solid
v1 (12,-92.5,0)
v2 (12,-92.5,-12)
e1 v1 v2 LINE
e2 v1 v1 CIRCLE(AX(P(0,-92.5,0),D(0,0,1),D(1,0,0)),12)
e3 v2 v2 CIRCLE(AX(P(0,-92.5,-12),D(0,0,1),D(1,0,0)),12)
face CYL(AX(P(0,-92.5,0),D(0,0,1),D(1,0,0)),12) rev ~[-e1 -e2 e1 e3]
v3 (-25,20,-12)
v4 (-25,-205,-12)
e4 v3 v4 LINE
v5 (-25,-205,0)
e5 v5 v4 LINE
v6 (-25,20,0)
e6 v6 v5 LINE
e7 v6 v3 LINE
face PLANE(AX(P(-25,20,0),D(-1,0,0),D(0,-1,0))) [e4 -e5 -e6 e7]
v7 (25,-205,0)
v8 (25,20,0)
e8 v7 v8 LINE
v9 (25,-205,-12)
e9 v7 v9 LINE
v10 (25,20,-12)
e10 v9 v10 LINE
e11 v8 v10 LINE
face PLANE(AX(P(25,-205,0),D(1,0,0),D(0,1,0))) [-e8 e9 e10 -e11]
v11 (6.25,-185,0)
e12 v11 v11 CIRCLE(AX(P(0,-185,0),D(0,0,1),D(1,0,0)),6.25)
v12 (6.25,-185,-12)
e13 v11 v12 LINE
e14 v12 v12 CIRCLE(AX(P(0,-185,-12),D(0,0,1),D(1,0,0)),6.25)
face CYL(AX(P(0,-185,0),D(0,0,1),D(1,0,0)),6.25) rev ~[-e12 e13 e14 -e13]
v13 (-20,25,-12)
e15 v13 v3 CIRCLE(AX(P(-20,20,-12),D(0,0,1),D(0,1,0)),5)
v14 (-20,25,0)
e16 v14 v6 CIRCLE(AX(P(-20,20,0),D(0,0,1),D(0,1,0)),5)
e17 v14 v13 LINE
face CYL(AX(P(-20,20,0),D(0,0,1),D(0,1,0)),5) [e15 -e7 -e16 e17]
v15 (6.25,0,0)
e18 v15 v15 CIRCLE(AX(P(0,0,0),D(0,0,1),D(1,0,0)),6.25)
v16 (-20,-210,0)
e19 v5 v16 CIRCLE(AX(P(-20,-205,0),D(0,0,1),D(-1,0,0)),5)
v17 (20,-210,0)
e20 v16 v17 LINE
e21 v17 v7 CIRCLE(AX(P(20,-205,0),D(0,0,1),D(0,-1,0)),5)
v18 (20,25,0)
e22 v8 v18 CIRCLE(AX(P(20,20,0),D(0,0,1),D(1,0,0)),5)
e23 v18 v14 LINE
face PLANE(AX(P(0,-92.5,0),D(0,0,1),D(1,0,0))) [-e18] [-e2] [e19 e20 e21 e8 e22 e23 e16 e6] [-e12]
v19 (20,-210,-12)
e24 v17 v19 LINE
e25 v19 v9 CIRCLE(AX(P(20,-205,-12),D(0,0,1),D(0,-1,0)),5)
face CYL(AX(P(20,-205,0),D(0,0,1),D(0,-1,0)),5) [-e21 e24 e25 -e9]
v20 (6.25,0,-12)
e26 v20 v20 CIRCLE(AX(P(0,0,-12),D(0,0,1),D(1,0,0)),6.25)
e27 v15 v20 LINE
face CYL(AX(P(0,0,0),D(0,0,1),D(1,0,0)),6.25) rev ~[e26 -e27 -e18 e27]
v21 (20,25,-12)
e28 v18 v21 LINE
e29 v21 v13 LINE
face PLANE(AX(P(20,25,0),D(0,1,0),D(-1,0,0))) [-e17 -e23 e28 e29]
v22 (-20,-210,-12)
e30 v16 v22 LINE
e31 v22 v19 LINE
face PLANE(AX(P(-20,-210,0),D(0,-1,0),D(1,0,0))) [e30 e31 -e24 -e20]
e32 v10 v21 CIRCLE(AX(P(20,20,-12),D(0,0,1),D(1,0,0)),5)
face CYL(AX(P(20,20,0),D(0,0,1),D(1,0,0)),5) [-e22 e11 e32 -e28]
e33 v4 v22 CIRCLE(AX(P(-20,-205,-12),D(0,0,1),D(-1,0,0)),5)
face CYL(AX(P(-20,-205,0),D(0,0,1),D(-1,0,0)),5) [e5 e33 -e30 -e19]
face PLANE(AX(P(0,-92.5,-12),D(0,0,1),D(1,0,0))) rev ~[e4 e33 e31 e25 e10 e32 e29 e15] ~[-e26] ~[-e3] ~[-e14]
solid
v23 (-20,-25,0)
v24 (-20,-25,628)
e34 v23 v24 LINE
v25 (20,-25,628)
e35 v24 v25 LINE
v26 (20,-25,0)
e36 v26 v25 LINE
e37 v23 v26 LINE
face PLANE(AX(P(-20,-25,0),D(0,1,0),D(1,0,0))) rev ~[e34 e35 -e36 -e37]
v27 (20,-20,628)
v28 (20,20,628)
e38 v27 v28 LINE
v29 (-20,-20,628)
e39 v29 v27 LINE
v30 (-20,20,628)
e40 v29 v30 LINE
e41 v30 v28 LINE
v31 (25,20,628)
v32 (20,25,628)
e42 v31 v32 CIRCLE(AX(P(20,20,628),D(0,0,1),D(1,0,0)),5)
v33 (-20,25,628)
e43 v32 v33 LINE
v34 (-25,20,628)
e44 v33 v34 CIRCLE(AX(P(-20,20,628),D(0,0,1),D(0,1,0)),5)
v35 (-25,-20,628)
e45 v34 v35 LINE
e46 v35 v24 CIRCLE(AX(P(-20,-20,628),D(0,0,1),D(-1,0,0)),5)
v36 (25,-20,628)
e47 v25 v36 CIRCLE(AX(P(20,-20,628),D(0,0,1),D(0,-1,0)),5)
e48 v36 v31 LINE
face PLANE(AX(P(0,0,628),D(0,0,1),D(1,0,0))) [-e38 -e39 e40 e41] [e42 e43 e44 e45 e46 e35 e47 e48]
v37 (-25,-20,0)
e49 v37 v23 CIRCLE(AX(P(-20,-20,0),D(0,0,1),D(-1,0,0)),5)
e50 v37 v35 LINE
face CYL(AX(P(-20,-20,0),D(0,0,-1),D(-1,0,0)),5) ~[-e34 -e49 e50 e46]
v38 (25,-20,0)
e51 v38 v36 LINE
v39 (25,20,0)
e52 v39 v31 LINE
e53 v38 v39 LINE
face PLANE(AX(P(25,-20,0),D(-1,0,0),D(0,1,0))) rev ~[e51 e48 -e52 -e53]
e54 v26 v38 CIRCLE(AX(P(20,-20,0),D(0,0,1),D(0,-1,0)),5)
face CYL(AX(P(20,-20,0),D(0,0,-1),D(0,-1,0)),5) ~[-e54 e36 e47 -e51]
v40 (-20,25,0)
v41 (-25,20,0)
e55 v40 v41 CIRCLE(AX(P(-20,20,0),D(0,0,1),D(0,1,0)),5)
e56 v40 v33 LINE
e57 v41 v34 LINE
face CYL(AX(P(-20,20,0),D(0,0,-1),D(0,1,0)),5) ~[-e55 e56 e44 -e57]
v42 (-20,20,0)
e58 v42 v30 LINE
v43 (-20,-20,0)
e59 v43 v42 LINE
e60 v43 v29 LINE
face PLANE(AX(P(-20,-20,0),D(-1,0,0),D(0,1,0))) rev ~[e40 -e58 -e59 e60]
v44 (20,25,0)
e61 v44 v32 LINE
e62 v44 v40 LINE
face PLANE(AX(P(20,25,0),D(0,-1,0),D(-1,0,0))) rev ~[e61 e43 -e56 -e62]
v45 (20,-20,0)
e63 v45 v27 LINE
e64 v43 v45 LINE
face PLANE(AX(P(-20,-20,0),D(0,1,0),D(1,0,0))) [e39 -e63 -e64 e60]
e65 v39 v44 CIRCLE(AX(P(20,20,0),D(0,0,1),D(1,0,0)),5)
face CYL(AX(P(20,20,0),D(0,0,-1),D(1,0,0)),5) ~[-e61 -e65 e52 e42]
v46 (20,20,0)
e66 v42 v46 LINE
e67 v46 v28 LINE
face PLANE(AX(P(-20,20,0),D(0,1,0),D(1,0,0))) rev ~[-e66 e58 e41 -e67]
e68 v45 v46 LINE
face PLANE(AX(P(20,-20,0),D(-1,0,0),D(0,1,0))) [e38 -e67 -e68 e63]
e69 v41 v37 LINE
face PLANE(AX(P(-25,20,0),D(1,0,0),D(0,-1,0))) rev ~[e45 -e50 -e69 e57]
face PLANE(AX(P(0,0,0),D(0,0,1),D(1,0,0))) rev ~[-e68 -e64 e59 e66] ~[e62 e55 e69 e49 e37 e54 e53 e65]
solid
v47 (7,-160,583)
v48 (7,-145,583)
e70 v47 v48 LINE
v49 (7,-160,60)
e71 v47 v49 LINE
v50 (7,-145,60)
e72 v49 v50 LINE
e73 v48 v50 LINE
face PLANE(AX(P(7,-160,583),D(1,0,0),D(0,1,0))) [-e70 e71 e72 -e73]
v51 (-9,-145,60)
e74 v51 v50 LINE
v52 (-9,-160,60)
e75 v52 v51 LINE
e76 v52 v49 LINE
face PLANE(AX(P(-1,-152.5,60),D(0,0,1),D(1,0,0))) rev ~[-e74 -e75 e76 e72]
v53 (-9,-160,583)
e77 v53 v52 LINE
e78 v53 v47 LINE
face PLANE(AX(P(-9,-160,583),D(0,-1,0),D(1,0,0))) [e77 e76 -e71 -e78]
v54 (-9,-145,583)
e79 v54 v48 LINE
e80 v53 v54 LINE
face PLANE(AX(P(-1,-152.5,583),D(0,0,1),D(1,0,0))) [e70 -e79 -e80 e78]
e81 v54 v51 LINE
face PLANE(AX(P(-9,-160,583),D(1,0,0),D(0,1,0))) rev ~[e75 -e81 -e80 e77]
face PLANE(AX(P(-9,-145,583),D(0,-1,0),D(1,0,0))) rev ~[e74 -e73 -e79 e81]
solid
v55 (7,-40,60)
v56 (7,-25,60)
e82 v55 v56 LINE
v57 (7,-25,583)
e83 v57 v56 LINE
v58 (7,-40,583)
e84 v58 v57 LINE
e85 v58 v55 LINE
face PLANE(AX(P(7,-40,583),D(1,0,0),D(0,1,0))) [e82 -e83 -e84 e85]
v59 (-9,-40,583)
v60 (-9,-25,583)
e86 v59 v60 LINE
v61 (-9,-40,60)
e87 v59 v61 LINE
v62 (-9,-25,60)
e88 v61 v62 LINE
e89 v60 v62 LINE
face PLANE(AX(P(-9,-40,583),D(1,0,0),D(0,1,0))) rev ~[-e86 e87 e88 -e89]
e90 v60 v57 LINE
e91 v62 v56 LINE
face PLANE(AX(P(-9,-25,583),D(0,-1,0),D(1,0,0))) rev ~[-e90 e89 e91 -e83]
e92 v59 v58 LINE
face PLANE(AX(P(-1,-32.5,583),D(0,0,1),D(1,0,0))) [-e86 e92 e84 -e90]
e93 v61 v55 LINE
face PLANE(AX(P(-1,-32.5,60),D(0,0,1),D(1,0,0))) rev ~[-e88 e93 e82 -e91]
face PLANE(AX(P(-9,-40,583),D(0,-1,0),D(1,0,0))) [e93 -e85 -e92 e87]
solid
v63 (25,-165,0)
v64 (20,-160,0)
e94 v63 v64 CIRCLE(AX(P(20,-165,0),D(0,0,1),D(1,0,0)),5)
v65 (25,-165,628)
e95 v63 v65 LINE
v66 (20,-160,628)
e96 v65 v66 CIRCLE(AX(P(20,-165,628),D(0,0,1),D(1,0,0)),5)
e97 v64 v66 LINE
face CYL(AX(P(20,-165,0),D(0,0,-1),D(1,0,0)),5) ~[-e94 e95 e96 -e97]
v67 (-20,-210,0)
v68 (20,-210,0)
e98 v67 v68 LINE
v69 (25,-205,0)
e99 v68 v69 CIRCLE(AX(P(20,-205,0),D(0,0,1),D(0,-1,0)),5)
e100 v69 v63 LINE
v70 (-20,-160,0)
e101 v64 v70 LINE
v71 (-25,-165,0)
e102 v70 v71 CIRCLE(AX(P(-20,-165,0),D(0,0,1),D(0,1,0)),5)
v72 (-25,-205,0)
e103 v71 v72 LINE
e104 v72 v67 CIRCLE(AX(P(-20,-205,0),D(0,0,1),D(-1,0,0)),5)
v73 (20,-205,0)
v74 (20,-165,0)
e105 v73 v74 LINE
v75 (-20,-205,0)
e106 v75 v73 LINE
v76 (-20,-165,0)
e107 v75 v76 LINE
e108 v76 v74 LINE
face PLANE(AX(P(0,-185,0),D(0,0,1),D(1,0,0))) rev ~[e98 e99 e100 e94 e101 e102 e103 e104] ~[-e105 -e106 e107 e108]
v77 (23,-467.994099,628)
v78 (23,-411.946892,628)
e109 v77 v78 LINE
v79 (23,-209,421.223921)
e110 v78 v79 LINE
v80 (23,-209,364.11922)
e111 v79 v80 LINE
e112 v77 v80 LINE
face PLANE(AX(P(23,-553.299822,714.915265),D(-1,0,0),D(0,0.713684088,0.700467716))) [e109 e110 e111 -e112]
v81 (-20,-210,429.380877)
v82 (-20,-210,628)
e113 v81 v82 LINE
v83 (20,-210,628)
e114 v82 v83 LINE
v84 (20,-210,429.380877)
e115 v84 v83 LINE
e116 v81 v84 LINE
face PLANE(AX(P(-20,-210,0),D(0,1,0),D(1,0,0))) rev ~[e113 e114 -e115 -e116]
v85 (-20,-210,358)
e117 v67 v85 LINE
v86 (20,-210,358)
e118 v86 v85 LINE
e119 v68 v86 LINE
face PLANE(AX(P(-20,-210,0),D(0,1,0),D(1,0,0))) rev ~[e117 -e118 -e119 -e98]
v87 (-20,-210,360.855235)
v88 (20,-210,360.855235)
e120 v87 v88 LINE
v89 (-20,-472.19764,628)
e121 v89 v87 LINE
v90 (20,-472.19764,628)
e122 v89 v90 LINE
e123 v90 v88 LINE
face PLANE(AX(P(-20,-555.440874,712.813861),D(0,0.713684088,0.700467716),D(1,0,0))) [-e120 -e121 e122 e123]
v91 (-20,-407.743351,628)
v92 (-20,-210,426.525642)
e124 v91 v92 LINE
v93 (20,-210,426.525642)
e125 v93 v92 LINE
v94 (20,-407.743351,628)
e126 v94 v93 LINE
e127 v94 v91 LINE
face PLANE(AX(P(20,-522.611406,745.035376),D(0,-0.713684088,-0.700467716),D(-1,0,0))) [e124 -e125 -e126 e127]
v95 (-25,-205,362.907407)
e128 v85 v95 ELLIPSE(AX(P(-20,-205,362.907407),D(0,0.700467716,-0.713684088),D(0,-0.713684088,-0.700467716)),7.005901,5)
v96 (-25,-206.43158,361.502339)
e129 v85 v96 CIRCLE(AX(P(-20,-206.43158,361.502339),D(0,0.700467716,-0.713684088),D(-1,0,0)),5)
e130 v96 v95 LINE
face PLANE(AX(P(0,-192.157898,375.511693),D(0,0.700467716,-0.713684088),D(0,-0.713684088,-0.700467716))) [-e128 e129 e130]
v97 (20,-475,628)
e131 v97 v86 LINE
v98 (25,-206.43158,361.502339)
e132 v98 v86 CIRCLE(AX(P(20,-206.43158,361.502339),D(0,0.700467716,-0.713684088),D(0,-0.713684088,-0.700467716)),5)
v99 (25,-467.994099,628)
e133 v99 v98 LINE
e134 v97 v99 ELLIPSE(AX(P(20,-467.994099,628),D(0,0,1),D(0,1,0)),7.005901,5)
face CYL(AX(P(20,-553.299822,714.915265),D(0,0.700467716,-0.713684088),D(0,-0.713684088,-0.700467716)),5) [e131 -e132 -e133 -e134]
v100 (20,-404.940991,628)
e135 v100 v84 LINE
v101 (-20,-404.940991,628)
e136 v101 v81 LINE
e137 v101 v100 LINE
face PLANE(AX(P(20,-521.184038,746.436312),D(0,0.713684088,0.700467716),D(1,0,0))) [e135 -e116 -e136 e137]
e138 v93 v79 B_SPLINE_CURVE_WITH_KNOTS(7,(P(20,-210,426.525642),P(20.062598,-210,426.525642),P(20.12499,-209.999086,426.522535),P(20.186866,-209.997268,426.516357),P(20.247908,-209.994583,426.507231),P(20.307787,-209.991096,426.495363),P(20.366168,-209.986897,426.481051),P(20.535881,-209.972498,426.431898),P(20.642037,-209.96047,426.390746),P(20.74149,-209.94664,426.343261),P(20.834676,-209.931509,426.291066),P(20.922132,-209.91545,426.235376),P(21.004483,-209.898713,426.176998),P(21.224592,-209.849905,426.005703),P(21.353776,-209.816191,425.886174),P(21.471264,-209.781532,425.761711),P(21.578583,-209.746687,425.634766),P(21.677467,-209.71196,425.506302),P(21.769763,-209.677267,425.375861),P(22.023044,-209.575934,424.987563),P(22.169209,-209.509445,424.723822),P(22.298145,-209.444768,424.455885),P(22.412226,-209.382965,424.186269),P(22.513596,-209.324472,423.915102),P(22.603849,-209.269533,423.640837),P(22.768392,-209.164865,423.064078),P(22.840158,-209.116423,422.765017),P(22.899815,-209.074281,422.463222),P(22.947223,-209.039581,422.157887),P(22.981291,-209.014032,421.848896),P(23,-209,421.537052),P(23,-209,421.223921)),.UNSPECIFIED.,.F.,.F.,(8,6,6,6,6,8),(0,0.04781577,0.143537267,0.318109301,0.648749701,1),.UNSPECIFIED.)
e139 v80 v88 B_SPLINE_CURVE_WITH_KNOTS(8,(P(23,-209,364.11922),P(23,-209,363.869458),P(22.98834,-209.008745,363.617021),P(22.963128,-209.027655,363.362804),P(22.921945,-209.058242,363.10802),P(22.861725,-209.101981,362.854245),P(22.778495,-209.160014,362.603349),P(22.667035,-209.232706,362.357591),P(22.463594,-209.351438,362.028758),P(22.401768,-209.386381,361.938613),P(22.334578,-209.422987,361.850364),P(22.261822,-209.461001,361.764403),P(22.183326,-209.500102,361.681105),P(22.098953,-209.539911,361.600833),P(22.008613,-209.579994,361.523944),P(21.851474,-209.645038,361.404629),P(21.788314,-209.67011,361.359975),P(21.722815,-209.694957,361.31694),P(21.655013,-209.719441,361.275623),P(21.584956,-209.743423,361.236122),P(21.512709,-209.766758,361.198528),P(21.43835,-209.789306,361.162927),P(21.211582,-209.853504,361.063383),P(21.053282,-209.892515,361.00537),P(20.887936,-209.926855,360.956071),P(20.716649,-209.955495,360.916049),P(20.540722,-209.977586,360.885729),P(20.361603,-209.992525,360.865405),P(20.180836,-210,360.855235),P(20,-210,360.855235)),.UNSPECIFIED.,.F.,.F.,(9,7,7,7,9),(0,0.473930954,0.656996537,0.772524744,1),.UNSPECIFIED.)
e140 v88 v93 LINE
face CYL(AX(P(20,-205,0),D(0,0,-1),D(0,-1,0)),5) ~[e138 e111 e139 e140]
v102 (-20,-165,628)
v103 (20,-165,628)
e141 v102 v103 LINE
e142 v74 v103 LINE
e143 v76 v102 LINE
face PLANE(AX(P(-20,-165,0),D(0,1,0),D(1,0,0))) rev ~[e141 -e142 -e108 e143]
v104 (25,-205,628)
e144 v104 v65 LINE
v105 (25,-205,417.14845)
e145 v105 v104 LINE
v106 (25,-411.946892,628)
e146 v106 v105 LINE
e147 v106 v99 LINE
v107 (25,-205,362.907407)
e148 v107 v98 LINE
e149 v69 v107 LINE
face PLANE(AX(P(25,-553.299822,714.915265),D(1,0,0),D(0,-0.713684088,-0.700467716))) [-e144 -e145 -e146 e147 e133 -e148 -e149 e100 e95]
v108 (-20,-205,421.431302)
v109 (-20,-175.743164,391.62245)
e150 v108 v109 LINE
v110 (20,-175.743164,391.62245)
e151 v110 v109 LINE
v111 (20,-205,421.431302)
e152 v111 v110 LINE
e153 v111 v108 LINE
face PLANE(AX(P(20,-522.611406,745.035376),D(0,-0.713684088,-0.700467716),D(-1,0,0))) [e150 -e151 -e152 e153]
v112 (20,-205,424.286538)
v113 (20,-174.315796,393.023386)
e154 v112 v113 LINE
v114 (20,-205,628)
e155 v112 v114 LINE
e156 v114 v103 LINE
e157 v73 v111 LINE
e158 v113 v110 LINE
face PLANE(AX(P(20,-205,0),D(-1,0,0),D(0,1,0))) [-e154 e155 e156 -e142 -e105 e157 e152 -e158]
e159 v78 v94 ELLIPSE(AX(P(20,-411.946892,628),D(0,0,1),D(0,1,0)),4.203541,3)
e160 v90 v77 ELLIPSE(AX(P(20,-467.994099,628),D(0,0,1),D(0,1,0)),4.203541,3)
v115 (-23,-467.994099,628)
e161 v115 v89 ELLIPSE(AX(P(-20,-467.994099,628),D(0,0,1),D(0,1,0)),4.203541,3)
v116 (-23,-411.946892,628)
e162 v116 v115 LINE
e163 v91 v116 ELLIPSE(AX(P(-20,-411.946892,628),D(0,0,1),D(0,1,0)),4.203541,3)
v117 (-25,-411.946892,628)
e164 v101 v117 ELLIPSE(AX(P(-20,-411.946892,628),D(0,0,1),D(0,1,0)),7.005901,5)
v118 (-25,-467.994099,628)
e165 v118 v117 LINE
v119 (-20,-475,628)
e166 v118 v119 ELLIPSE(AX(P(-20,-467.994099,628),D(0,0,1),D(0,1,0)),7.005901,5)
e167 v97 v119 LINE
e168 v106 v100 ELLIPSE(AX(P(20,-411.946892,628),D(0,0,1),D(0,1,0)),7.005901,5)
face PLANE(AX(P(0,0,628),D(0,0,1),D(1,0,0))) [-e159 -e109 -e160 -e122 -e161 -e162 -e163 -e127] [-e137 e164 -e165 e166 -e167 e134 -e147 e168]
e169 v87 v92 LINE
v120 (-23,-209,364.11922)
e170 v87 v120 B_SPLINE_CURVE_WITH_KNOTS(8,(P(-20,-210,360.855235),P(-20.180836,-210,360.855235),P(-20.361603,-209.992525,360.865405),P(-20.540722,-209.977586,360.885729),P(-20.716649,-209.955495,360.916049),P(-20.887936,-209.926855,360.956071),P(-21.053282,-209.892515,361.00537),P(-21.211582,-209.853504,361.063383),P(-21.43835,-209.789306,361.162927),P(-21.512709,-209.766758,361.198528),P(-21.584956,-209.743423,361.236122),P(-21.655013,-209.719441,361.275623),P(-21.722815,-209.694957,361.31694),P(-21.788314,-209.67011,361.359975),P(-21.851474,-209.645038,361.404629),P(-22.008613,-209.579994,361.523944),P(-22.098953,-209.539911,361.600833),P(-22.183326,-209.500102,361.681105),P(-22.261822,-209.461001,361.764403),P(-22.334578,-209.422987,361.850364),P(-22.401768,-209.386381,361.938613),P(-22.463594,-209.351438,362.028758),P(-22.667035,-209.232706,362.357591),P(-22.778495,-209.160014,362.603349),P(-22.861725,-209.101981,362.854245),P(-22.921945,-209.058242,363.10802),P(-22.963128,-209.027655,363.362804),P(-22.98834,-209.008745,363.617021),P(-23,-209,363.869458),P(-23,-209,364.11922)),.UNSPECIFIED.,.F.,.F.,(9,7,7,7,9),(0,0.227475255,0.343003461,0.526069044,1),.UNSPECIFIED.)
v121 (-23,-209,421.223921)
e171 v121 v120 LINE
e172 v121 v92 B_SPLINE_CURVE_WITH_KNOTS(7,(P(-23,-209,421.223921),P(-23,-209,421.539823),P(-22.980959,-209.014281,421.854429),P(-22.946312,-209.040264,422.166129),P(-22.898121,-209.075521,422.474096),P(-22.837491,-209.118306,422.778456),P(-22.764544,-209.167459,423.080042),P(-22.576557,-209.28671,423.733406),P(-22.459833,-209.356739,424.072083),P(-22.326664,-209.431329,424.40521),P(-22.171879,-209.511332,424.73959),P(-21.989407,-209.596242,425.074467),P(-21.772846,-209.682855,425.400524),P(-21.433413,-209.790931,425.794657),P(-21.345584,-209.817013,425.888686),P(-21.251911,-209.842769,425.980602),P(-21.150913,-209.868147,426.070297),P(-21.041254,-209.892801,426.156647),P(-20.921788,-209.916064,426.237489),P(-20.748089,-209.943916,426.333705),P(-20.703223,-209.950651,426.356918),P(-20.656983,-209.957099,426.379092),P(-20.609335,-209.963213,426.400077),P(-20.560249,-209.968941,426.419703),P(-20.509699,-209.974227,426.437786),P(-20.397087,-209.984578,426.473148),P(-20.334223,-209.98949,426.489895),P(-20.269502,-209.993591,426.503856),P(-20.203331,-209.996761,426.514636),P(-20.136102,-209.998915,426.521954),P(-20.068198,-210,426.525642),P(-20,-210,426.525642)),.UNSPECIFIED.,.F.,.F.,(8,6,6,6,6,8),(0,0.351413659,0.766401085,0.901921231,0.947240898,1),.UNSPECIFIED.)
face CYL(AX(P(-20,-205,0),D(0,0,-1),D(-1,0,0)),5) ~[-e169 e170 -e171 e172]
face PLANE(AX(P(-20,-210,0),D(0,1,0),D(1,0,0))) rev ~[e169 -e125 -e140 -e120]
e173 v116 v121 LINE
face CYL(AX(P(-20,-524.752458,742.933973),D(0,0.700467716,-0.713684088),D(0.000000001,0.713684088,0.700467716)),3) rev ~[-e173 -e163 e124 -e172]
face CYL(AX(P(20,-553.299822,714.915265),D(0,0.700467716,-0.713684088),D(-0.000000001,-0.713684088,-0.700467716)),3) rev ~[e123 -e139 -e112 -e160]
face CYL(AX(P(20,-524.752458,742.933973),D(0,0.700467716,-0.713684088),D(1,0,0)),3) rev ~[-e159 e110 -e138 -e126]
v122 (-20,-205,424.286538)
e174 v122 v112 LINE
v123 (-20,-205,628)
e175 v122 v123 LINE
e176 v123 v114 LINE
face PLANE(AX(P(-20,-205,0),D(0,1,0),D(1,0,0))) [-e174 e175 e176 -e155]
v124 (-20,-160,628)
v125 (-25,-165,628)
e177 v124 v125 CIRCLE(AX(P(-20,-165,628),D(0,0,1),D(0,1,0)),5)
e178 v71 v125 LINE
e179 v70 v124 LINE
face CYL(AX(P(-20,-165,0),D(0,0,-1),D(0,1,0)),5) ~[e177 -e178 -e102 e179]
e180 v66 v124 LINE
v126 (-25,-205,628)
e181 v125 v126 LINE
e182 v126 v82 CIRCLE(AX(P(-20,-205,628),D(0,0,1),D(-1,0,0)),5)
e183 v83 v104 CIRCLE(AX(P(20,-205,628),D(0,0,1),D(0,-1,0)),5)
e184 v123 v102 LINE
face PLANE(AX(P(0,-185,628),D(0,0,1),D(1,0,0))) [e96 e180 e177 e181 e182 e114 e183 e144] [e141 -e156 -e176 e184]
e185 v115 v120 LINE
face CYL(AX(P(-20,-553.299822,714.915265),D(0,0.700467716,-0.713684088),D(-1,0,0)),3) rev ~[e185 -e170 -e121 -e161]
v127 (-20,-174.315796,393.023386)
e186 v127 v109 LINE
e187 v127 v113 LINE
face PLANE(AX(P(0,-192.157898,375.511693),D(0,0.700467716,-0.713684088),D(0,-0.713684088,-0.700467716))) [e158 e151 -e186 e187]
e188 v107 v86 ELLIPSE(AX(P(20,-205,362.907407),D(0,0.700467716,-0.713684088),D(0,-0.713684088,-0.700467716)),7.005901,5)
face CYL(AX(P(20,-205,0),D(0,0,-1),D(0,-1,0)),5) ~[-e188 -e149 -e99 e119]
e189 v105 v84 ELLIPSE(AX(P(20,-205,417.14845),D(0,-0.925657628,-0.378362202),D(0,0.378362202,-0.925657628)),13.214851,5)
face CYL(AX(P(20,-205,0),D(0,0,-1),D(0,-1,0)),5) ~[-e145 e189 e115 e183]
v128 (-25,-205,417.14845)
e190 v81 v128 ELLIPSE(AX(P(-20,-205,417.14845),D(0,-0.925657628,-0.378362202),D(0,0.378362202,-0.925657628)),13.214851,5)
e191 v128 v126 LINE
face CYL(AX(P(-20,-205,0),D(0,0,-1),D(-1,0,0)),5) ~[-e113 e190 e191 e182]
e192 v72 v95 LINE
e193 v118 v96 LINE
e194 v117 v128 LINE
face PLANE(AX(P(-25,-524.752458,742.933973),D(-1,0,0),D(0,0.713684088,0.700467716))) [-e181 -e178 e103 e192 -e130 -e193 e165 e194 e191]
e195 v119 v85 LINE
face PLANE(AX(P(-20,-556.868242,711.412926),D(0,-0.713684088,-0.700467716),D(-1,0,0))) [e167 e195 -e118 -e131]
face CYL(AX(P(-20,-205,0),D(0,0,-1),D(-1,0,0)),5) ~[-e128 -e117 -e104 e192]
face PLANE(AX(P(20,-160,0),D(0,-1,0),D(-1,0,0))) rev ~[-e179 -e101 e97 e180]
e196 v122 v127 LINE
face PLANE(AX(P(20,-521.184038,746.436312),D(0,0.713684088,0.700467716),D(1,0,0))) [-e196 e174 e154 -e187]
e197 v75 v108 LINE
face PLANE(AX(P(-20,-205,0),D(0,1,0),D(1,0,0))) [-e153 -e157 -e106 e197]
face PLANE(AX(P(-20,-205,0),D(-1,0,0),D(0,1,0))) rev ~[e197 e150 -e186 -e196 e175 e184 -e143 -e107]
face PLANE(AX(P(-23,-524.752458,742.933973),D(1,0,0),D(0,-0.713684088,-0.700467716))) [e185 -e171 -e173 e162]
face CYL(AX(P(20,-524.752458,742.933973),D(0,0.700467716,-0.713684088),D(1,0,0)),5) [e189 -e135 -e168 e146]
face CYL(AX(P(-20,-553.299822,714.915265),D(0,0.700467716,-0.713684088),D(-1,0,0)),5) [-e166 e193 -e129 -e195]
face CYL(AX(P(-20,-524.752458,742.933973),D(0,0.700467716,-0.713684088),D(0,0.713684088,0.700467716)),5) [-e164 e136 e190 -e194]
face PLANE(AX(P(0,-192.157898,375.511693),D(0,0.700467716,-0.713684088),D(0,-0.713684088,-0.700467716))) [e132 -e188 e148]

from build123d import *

# Parameters (mm, degrees)
SKETCH1_W             = 40
SKETCH1_H             = 40
BOSS_EXTRUDE1_DEPTH   = 628
BOSS_EXTRUDE1_2_DEPTH = 628
SKETCH2_R             = 6.25
SKETCH2_R_2           = 12
BOSS_EXTRUDE2_DEPTH   = 12
BOSS_EXTRUDE4_START   = -45
SKETCH3_W             = 16
SKETCH3_H             = 15
BOSS_EXTRUDE4_DEPTH   = 523
BOSS_EXTRUDE4_2_DEPTH = 523
SKETCH6_W             = 683.204916826
SKETCH6_H             = 1233.314066904
CUT_EXTRUDE1_DEPTH    = 849.720942988


with BuildPart() as part:
    # Sketch1 → Boss-Extrude1 (new body)
    with BuildSketch(Plane.XY):
        with BuildLine():
            Line((-20, -25), (20, -25))
            ThreePointArc((20, -25), (23.535533906, -23.535533906), (25, -20))
            Line((25, -20), (25, 20))
            ThreePointArc((25, 20), (23.535533906, 23.535533906), (20, 25))
            Line((20, 25), (-20, 25))
            ThreePointArc((-20, 25), (-23.535533906, 23.535533906), (-25, 20))
            Line((-25, 20), (-25, -20))
            ThreePointArc((-25, -20), (-23.535533906, -23.535533906), (-20, -25))
        make_face()
        Rectangle(SKETCH1_W, SKETCH1_H, mode=Mode.SUBTRACT)
    extrude(amount=BOSS_EXTRUDE1_DEPTH)


with BuildPart() as body_2:
    # Sketch1 → Boss-Extrude1 2 (new body)
    with BuildSketch(Plane.XY):
        with BuildLine():
            Line((-20, -210), (20, -210))
            ThreePointArc((20, -210), (23.535533906, -208.535533906), (25, -205))
            Line((25, -205), (25, -165))
            ThreePointArc((25, -165), (23.535533906, -161.464466094), (20, -160))
            Line((20, -160), (-20, -160))
            ThreePointArc((-20, -160), (-23.535533906, -161.464466094), (-25, -165))
            Line((-25, -165), (-25, -205))
            ThreePointArc((-25, -205), (-23.535533906, -208.535533906), (-20, -210))
        make_face()
        with Locations((0, -185)):
            Rectangle(SKETCH1_W, SKETCH1_H, mode=Mode.SUBTRACT)
    extrude(amount=BOSS_EXTRUDE1_2_DEPTH)

    # Sweep1: sweep along a path in Sketch4
    with BuildLine(Plane(origin=(0, 0, 0), x_dir=(0, 0, -1), z_dir=(1, 0, 0))) as sweep1_path:
        Line((-711.412925919, -556.868242106), (-358, -210))
    # Sketch5 → Sweep1 (sweep)
    with BuildSketch(Plane(origin=(0, -210, 358), x_dir=(-1, 0, 0), z_dir=(0, 0.7004677164823951, -0.7136840884914969))):
        with BuildLine():
            Line((20, 0), (-20, 0))
            ThreePointArc((-20, 0), (-23.535533906, 1.464466094), (-25, 5))
            Line((-25, 5), (-25, 45))
            ThreePointArc((-25, 45), (-23.535533906, 48.535533906), (-20, 50))
            Line((-20, 50), (20, 50))
            ThreePointArc((20, 50), (23.535533906, 48.535533906), (25, 45))
            Line((25, 45), (25, 5))
            ThreePointArc((25, 5), (23.535533906, 1.464466094), (20, 0))
        make_face()
        with BuildLine():
            Line((20, 2), (-20, 2))
            ThreePointArc((-20, 2), (-22.121320344, 2.878679656), (-23, 5))
            Line((-23, 5), (-23, 45))
            ThreePointArc((-23, 45), (-22.121320344, 47.121320344), (-20, 48))
            Line((-20, 48), (20, 48))
            ThreePointArc((20, 48), (22.121320344, 47.121320344), (23, 45))
            Line((23, 45), (23, 5))
            ThreePointArc((23, 5), (22.121320344, 2.878679656), (20, 2))
        make_face(mode=Mode.SUBTRACT)
    sweep(path=sweep1_path.line)

    # Sketch6 → Cut-Extrude1 (cut, through all)
    with BuildSketch(Plane.XY.offset(628)):
        Rectangle(SKETCH6_W, SKETCH6_H)
    extrude(amount=CUT_EXTRUDE1_DEPTH, mode=Mode.SUBTRACT)


with BuildPart() as body_3:
    # Sketch2 → Boss-Extrude2 (new body)
    with BuildSketch(Plane.XY):
        with BuildLine():
            Line((25, -205), (25, -165))
            Line((25, -165), (25, -20))
            Line((25, -20), (25, 20))
            ThreePointArc((25, 20), (23.535533906, 23.535533906), (20, 25))
            Line((20, 25), (-20, 25))
            ThreePointArc((-20, 25), (-23.535533906, 23.535533906), (-25, 20))
            Line((-25, 20), (-25, -20))
            Line((-25, -20), (-25, -165))
            Line((-25, -165), (-25, -205))
            ThreePointArc((-25, -205), (-23.535533906, -208.535533906), (-20, -210))
            Line((-20, -210), (20, -210))
            ThreePointArc((20, -210), (23.535533906, -208.535533906), (25, -205))
        make_face()
        Circle(SKETCH2_R, mode=Mode.SUBTRACT)
        with Locations((0, -185)):
            Circle(SKETCH2_R, mode=Mode.SUBTRACT)
        with Locations((0, -92.5)):
            Circle(SKETCH2_R_2, mode=Mode.SUBTRACT)
    extrude(amount=-BOSS_EXTRUDE2_DEPTH)


with BuildPart() as body_4:
    # Sketch3 → Boss-Extrude4 (new body)
    with BuildSketch(Plane.XY.offset(628).offset(BOSS_EXTRUDE4_START)):
        with Locations((-1, -32.5)):
            Rectangle(SKETCH3_W, SKETCH3_H)
    extrude(amount=-BOSS_EXTRUDE4_DEPTH)


with BuildPart() as body_5:
    # Sketch3 → Boss-Extrude4 2 (new body)
    with BuildSketch(Plane.XY.offset(628).offset(BOSS_EXTRUDE4_START)):
        with Locations((-1, -152.5)):
            Rectangle(SKETCH3_W, SKETCH3_H)
    extrude(amount=-BOSS_EXTRUDE4_2_DEPTH)


solid = Compound([part.part, body_2.part, body_3.part, body_4.part, body_5.part])
